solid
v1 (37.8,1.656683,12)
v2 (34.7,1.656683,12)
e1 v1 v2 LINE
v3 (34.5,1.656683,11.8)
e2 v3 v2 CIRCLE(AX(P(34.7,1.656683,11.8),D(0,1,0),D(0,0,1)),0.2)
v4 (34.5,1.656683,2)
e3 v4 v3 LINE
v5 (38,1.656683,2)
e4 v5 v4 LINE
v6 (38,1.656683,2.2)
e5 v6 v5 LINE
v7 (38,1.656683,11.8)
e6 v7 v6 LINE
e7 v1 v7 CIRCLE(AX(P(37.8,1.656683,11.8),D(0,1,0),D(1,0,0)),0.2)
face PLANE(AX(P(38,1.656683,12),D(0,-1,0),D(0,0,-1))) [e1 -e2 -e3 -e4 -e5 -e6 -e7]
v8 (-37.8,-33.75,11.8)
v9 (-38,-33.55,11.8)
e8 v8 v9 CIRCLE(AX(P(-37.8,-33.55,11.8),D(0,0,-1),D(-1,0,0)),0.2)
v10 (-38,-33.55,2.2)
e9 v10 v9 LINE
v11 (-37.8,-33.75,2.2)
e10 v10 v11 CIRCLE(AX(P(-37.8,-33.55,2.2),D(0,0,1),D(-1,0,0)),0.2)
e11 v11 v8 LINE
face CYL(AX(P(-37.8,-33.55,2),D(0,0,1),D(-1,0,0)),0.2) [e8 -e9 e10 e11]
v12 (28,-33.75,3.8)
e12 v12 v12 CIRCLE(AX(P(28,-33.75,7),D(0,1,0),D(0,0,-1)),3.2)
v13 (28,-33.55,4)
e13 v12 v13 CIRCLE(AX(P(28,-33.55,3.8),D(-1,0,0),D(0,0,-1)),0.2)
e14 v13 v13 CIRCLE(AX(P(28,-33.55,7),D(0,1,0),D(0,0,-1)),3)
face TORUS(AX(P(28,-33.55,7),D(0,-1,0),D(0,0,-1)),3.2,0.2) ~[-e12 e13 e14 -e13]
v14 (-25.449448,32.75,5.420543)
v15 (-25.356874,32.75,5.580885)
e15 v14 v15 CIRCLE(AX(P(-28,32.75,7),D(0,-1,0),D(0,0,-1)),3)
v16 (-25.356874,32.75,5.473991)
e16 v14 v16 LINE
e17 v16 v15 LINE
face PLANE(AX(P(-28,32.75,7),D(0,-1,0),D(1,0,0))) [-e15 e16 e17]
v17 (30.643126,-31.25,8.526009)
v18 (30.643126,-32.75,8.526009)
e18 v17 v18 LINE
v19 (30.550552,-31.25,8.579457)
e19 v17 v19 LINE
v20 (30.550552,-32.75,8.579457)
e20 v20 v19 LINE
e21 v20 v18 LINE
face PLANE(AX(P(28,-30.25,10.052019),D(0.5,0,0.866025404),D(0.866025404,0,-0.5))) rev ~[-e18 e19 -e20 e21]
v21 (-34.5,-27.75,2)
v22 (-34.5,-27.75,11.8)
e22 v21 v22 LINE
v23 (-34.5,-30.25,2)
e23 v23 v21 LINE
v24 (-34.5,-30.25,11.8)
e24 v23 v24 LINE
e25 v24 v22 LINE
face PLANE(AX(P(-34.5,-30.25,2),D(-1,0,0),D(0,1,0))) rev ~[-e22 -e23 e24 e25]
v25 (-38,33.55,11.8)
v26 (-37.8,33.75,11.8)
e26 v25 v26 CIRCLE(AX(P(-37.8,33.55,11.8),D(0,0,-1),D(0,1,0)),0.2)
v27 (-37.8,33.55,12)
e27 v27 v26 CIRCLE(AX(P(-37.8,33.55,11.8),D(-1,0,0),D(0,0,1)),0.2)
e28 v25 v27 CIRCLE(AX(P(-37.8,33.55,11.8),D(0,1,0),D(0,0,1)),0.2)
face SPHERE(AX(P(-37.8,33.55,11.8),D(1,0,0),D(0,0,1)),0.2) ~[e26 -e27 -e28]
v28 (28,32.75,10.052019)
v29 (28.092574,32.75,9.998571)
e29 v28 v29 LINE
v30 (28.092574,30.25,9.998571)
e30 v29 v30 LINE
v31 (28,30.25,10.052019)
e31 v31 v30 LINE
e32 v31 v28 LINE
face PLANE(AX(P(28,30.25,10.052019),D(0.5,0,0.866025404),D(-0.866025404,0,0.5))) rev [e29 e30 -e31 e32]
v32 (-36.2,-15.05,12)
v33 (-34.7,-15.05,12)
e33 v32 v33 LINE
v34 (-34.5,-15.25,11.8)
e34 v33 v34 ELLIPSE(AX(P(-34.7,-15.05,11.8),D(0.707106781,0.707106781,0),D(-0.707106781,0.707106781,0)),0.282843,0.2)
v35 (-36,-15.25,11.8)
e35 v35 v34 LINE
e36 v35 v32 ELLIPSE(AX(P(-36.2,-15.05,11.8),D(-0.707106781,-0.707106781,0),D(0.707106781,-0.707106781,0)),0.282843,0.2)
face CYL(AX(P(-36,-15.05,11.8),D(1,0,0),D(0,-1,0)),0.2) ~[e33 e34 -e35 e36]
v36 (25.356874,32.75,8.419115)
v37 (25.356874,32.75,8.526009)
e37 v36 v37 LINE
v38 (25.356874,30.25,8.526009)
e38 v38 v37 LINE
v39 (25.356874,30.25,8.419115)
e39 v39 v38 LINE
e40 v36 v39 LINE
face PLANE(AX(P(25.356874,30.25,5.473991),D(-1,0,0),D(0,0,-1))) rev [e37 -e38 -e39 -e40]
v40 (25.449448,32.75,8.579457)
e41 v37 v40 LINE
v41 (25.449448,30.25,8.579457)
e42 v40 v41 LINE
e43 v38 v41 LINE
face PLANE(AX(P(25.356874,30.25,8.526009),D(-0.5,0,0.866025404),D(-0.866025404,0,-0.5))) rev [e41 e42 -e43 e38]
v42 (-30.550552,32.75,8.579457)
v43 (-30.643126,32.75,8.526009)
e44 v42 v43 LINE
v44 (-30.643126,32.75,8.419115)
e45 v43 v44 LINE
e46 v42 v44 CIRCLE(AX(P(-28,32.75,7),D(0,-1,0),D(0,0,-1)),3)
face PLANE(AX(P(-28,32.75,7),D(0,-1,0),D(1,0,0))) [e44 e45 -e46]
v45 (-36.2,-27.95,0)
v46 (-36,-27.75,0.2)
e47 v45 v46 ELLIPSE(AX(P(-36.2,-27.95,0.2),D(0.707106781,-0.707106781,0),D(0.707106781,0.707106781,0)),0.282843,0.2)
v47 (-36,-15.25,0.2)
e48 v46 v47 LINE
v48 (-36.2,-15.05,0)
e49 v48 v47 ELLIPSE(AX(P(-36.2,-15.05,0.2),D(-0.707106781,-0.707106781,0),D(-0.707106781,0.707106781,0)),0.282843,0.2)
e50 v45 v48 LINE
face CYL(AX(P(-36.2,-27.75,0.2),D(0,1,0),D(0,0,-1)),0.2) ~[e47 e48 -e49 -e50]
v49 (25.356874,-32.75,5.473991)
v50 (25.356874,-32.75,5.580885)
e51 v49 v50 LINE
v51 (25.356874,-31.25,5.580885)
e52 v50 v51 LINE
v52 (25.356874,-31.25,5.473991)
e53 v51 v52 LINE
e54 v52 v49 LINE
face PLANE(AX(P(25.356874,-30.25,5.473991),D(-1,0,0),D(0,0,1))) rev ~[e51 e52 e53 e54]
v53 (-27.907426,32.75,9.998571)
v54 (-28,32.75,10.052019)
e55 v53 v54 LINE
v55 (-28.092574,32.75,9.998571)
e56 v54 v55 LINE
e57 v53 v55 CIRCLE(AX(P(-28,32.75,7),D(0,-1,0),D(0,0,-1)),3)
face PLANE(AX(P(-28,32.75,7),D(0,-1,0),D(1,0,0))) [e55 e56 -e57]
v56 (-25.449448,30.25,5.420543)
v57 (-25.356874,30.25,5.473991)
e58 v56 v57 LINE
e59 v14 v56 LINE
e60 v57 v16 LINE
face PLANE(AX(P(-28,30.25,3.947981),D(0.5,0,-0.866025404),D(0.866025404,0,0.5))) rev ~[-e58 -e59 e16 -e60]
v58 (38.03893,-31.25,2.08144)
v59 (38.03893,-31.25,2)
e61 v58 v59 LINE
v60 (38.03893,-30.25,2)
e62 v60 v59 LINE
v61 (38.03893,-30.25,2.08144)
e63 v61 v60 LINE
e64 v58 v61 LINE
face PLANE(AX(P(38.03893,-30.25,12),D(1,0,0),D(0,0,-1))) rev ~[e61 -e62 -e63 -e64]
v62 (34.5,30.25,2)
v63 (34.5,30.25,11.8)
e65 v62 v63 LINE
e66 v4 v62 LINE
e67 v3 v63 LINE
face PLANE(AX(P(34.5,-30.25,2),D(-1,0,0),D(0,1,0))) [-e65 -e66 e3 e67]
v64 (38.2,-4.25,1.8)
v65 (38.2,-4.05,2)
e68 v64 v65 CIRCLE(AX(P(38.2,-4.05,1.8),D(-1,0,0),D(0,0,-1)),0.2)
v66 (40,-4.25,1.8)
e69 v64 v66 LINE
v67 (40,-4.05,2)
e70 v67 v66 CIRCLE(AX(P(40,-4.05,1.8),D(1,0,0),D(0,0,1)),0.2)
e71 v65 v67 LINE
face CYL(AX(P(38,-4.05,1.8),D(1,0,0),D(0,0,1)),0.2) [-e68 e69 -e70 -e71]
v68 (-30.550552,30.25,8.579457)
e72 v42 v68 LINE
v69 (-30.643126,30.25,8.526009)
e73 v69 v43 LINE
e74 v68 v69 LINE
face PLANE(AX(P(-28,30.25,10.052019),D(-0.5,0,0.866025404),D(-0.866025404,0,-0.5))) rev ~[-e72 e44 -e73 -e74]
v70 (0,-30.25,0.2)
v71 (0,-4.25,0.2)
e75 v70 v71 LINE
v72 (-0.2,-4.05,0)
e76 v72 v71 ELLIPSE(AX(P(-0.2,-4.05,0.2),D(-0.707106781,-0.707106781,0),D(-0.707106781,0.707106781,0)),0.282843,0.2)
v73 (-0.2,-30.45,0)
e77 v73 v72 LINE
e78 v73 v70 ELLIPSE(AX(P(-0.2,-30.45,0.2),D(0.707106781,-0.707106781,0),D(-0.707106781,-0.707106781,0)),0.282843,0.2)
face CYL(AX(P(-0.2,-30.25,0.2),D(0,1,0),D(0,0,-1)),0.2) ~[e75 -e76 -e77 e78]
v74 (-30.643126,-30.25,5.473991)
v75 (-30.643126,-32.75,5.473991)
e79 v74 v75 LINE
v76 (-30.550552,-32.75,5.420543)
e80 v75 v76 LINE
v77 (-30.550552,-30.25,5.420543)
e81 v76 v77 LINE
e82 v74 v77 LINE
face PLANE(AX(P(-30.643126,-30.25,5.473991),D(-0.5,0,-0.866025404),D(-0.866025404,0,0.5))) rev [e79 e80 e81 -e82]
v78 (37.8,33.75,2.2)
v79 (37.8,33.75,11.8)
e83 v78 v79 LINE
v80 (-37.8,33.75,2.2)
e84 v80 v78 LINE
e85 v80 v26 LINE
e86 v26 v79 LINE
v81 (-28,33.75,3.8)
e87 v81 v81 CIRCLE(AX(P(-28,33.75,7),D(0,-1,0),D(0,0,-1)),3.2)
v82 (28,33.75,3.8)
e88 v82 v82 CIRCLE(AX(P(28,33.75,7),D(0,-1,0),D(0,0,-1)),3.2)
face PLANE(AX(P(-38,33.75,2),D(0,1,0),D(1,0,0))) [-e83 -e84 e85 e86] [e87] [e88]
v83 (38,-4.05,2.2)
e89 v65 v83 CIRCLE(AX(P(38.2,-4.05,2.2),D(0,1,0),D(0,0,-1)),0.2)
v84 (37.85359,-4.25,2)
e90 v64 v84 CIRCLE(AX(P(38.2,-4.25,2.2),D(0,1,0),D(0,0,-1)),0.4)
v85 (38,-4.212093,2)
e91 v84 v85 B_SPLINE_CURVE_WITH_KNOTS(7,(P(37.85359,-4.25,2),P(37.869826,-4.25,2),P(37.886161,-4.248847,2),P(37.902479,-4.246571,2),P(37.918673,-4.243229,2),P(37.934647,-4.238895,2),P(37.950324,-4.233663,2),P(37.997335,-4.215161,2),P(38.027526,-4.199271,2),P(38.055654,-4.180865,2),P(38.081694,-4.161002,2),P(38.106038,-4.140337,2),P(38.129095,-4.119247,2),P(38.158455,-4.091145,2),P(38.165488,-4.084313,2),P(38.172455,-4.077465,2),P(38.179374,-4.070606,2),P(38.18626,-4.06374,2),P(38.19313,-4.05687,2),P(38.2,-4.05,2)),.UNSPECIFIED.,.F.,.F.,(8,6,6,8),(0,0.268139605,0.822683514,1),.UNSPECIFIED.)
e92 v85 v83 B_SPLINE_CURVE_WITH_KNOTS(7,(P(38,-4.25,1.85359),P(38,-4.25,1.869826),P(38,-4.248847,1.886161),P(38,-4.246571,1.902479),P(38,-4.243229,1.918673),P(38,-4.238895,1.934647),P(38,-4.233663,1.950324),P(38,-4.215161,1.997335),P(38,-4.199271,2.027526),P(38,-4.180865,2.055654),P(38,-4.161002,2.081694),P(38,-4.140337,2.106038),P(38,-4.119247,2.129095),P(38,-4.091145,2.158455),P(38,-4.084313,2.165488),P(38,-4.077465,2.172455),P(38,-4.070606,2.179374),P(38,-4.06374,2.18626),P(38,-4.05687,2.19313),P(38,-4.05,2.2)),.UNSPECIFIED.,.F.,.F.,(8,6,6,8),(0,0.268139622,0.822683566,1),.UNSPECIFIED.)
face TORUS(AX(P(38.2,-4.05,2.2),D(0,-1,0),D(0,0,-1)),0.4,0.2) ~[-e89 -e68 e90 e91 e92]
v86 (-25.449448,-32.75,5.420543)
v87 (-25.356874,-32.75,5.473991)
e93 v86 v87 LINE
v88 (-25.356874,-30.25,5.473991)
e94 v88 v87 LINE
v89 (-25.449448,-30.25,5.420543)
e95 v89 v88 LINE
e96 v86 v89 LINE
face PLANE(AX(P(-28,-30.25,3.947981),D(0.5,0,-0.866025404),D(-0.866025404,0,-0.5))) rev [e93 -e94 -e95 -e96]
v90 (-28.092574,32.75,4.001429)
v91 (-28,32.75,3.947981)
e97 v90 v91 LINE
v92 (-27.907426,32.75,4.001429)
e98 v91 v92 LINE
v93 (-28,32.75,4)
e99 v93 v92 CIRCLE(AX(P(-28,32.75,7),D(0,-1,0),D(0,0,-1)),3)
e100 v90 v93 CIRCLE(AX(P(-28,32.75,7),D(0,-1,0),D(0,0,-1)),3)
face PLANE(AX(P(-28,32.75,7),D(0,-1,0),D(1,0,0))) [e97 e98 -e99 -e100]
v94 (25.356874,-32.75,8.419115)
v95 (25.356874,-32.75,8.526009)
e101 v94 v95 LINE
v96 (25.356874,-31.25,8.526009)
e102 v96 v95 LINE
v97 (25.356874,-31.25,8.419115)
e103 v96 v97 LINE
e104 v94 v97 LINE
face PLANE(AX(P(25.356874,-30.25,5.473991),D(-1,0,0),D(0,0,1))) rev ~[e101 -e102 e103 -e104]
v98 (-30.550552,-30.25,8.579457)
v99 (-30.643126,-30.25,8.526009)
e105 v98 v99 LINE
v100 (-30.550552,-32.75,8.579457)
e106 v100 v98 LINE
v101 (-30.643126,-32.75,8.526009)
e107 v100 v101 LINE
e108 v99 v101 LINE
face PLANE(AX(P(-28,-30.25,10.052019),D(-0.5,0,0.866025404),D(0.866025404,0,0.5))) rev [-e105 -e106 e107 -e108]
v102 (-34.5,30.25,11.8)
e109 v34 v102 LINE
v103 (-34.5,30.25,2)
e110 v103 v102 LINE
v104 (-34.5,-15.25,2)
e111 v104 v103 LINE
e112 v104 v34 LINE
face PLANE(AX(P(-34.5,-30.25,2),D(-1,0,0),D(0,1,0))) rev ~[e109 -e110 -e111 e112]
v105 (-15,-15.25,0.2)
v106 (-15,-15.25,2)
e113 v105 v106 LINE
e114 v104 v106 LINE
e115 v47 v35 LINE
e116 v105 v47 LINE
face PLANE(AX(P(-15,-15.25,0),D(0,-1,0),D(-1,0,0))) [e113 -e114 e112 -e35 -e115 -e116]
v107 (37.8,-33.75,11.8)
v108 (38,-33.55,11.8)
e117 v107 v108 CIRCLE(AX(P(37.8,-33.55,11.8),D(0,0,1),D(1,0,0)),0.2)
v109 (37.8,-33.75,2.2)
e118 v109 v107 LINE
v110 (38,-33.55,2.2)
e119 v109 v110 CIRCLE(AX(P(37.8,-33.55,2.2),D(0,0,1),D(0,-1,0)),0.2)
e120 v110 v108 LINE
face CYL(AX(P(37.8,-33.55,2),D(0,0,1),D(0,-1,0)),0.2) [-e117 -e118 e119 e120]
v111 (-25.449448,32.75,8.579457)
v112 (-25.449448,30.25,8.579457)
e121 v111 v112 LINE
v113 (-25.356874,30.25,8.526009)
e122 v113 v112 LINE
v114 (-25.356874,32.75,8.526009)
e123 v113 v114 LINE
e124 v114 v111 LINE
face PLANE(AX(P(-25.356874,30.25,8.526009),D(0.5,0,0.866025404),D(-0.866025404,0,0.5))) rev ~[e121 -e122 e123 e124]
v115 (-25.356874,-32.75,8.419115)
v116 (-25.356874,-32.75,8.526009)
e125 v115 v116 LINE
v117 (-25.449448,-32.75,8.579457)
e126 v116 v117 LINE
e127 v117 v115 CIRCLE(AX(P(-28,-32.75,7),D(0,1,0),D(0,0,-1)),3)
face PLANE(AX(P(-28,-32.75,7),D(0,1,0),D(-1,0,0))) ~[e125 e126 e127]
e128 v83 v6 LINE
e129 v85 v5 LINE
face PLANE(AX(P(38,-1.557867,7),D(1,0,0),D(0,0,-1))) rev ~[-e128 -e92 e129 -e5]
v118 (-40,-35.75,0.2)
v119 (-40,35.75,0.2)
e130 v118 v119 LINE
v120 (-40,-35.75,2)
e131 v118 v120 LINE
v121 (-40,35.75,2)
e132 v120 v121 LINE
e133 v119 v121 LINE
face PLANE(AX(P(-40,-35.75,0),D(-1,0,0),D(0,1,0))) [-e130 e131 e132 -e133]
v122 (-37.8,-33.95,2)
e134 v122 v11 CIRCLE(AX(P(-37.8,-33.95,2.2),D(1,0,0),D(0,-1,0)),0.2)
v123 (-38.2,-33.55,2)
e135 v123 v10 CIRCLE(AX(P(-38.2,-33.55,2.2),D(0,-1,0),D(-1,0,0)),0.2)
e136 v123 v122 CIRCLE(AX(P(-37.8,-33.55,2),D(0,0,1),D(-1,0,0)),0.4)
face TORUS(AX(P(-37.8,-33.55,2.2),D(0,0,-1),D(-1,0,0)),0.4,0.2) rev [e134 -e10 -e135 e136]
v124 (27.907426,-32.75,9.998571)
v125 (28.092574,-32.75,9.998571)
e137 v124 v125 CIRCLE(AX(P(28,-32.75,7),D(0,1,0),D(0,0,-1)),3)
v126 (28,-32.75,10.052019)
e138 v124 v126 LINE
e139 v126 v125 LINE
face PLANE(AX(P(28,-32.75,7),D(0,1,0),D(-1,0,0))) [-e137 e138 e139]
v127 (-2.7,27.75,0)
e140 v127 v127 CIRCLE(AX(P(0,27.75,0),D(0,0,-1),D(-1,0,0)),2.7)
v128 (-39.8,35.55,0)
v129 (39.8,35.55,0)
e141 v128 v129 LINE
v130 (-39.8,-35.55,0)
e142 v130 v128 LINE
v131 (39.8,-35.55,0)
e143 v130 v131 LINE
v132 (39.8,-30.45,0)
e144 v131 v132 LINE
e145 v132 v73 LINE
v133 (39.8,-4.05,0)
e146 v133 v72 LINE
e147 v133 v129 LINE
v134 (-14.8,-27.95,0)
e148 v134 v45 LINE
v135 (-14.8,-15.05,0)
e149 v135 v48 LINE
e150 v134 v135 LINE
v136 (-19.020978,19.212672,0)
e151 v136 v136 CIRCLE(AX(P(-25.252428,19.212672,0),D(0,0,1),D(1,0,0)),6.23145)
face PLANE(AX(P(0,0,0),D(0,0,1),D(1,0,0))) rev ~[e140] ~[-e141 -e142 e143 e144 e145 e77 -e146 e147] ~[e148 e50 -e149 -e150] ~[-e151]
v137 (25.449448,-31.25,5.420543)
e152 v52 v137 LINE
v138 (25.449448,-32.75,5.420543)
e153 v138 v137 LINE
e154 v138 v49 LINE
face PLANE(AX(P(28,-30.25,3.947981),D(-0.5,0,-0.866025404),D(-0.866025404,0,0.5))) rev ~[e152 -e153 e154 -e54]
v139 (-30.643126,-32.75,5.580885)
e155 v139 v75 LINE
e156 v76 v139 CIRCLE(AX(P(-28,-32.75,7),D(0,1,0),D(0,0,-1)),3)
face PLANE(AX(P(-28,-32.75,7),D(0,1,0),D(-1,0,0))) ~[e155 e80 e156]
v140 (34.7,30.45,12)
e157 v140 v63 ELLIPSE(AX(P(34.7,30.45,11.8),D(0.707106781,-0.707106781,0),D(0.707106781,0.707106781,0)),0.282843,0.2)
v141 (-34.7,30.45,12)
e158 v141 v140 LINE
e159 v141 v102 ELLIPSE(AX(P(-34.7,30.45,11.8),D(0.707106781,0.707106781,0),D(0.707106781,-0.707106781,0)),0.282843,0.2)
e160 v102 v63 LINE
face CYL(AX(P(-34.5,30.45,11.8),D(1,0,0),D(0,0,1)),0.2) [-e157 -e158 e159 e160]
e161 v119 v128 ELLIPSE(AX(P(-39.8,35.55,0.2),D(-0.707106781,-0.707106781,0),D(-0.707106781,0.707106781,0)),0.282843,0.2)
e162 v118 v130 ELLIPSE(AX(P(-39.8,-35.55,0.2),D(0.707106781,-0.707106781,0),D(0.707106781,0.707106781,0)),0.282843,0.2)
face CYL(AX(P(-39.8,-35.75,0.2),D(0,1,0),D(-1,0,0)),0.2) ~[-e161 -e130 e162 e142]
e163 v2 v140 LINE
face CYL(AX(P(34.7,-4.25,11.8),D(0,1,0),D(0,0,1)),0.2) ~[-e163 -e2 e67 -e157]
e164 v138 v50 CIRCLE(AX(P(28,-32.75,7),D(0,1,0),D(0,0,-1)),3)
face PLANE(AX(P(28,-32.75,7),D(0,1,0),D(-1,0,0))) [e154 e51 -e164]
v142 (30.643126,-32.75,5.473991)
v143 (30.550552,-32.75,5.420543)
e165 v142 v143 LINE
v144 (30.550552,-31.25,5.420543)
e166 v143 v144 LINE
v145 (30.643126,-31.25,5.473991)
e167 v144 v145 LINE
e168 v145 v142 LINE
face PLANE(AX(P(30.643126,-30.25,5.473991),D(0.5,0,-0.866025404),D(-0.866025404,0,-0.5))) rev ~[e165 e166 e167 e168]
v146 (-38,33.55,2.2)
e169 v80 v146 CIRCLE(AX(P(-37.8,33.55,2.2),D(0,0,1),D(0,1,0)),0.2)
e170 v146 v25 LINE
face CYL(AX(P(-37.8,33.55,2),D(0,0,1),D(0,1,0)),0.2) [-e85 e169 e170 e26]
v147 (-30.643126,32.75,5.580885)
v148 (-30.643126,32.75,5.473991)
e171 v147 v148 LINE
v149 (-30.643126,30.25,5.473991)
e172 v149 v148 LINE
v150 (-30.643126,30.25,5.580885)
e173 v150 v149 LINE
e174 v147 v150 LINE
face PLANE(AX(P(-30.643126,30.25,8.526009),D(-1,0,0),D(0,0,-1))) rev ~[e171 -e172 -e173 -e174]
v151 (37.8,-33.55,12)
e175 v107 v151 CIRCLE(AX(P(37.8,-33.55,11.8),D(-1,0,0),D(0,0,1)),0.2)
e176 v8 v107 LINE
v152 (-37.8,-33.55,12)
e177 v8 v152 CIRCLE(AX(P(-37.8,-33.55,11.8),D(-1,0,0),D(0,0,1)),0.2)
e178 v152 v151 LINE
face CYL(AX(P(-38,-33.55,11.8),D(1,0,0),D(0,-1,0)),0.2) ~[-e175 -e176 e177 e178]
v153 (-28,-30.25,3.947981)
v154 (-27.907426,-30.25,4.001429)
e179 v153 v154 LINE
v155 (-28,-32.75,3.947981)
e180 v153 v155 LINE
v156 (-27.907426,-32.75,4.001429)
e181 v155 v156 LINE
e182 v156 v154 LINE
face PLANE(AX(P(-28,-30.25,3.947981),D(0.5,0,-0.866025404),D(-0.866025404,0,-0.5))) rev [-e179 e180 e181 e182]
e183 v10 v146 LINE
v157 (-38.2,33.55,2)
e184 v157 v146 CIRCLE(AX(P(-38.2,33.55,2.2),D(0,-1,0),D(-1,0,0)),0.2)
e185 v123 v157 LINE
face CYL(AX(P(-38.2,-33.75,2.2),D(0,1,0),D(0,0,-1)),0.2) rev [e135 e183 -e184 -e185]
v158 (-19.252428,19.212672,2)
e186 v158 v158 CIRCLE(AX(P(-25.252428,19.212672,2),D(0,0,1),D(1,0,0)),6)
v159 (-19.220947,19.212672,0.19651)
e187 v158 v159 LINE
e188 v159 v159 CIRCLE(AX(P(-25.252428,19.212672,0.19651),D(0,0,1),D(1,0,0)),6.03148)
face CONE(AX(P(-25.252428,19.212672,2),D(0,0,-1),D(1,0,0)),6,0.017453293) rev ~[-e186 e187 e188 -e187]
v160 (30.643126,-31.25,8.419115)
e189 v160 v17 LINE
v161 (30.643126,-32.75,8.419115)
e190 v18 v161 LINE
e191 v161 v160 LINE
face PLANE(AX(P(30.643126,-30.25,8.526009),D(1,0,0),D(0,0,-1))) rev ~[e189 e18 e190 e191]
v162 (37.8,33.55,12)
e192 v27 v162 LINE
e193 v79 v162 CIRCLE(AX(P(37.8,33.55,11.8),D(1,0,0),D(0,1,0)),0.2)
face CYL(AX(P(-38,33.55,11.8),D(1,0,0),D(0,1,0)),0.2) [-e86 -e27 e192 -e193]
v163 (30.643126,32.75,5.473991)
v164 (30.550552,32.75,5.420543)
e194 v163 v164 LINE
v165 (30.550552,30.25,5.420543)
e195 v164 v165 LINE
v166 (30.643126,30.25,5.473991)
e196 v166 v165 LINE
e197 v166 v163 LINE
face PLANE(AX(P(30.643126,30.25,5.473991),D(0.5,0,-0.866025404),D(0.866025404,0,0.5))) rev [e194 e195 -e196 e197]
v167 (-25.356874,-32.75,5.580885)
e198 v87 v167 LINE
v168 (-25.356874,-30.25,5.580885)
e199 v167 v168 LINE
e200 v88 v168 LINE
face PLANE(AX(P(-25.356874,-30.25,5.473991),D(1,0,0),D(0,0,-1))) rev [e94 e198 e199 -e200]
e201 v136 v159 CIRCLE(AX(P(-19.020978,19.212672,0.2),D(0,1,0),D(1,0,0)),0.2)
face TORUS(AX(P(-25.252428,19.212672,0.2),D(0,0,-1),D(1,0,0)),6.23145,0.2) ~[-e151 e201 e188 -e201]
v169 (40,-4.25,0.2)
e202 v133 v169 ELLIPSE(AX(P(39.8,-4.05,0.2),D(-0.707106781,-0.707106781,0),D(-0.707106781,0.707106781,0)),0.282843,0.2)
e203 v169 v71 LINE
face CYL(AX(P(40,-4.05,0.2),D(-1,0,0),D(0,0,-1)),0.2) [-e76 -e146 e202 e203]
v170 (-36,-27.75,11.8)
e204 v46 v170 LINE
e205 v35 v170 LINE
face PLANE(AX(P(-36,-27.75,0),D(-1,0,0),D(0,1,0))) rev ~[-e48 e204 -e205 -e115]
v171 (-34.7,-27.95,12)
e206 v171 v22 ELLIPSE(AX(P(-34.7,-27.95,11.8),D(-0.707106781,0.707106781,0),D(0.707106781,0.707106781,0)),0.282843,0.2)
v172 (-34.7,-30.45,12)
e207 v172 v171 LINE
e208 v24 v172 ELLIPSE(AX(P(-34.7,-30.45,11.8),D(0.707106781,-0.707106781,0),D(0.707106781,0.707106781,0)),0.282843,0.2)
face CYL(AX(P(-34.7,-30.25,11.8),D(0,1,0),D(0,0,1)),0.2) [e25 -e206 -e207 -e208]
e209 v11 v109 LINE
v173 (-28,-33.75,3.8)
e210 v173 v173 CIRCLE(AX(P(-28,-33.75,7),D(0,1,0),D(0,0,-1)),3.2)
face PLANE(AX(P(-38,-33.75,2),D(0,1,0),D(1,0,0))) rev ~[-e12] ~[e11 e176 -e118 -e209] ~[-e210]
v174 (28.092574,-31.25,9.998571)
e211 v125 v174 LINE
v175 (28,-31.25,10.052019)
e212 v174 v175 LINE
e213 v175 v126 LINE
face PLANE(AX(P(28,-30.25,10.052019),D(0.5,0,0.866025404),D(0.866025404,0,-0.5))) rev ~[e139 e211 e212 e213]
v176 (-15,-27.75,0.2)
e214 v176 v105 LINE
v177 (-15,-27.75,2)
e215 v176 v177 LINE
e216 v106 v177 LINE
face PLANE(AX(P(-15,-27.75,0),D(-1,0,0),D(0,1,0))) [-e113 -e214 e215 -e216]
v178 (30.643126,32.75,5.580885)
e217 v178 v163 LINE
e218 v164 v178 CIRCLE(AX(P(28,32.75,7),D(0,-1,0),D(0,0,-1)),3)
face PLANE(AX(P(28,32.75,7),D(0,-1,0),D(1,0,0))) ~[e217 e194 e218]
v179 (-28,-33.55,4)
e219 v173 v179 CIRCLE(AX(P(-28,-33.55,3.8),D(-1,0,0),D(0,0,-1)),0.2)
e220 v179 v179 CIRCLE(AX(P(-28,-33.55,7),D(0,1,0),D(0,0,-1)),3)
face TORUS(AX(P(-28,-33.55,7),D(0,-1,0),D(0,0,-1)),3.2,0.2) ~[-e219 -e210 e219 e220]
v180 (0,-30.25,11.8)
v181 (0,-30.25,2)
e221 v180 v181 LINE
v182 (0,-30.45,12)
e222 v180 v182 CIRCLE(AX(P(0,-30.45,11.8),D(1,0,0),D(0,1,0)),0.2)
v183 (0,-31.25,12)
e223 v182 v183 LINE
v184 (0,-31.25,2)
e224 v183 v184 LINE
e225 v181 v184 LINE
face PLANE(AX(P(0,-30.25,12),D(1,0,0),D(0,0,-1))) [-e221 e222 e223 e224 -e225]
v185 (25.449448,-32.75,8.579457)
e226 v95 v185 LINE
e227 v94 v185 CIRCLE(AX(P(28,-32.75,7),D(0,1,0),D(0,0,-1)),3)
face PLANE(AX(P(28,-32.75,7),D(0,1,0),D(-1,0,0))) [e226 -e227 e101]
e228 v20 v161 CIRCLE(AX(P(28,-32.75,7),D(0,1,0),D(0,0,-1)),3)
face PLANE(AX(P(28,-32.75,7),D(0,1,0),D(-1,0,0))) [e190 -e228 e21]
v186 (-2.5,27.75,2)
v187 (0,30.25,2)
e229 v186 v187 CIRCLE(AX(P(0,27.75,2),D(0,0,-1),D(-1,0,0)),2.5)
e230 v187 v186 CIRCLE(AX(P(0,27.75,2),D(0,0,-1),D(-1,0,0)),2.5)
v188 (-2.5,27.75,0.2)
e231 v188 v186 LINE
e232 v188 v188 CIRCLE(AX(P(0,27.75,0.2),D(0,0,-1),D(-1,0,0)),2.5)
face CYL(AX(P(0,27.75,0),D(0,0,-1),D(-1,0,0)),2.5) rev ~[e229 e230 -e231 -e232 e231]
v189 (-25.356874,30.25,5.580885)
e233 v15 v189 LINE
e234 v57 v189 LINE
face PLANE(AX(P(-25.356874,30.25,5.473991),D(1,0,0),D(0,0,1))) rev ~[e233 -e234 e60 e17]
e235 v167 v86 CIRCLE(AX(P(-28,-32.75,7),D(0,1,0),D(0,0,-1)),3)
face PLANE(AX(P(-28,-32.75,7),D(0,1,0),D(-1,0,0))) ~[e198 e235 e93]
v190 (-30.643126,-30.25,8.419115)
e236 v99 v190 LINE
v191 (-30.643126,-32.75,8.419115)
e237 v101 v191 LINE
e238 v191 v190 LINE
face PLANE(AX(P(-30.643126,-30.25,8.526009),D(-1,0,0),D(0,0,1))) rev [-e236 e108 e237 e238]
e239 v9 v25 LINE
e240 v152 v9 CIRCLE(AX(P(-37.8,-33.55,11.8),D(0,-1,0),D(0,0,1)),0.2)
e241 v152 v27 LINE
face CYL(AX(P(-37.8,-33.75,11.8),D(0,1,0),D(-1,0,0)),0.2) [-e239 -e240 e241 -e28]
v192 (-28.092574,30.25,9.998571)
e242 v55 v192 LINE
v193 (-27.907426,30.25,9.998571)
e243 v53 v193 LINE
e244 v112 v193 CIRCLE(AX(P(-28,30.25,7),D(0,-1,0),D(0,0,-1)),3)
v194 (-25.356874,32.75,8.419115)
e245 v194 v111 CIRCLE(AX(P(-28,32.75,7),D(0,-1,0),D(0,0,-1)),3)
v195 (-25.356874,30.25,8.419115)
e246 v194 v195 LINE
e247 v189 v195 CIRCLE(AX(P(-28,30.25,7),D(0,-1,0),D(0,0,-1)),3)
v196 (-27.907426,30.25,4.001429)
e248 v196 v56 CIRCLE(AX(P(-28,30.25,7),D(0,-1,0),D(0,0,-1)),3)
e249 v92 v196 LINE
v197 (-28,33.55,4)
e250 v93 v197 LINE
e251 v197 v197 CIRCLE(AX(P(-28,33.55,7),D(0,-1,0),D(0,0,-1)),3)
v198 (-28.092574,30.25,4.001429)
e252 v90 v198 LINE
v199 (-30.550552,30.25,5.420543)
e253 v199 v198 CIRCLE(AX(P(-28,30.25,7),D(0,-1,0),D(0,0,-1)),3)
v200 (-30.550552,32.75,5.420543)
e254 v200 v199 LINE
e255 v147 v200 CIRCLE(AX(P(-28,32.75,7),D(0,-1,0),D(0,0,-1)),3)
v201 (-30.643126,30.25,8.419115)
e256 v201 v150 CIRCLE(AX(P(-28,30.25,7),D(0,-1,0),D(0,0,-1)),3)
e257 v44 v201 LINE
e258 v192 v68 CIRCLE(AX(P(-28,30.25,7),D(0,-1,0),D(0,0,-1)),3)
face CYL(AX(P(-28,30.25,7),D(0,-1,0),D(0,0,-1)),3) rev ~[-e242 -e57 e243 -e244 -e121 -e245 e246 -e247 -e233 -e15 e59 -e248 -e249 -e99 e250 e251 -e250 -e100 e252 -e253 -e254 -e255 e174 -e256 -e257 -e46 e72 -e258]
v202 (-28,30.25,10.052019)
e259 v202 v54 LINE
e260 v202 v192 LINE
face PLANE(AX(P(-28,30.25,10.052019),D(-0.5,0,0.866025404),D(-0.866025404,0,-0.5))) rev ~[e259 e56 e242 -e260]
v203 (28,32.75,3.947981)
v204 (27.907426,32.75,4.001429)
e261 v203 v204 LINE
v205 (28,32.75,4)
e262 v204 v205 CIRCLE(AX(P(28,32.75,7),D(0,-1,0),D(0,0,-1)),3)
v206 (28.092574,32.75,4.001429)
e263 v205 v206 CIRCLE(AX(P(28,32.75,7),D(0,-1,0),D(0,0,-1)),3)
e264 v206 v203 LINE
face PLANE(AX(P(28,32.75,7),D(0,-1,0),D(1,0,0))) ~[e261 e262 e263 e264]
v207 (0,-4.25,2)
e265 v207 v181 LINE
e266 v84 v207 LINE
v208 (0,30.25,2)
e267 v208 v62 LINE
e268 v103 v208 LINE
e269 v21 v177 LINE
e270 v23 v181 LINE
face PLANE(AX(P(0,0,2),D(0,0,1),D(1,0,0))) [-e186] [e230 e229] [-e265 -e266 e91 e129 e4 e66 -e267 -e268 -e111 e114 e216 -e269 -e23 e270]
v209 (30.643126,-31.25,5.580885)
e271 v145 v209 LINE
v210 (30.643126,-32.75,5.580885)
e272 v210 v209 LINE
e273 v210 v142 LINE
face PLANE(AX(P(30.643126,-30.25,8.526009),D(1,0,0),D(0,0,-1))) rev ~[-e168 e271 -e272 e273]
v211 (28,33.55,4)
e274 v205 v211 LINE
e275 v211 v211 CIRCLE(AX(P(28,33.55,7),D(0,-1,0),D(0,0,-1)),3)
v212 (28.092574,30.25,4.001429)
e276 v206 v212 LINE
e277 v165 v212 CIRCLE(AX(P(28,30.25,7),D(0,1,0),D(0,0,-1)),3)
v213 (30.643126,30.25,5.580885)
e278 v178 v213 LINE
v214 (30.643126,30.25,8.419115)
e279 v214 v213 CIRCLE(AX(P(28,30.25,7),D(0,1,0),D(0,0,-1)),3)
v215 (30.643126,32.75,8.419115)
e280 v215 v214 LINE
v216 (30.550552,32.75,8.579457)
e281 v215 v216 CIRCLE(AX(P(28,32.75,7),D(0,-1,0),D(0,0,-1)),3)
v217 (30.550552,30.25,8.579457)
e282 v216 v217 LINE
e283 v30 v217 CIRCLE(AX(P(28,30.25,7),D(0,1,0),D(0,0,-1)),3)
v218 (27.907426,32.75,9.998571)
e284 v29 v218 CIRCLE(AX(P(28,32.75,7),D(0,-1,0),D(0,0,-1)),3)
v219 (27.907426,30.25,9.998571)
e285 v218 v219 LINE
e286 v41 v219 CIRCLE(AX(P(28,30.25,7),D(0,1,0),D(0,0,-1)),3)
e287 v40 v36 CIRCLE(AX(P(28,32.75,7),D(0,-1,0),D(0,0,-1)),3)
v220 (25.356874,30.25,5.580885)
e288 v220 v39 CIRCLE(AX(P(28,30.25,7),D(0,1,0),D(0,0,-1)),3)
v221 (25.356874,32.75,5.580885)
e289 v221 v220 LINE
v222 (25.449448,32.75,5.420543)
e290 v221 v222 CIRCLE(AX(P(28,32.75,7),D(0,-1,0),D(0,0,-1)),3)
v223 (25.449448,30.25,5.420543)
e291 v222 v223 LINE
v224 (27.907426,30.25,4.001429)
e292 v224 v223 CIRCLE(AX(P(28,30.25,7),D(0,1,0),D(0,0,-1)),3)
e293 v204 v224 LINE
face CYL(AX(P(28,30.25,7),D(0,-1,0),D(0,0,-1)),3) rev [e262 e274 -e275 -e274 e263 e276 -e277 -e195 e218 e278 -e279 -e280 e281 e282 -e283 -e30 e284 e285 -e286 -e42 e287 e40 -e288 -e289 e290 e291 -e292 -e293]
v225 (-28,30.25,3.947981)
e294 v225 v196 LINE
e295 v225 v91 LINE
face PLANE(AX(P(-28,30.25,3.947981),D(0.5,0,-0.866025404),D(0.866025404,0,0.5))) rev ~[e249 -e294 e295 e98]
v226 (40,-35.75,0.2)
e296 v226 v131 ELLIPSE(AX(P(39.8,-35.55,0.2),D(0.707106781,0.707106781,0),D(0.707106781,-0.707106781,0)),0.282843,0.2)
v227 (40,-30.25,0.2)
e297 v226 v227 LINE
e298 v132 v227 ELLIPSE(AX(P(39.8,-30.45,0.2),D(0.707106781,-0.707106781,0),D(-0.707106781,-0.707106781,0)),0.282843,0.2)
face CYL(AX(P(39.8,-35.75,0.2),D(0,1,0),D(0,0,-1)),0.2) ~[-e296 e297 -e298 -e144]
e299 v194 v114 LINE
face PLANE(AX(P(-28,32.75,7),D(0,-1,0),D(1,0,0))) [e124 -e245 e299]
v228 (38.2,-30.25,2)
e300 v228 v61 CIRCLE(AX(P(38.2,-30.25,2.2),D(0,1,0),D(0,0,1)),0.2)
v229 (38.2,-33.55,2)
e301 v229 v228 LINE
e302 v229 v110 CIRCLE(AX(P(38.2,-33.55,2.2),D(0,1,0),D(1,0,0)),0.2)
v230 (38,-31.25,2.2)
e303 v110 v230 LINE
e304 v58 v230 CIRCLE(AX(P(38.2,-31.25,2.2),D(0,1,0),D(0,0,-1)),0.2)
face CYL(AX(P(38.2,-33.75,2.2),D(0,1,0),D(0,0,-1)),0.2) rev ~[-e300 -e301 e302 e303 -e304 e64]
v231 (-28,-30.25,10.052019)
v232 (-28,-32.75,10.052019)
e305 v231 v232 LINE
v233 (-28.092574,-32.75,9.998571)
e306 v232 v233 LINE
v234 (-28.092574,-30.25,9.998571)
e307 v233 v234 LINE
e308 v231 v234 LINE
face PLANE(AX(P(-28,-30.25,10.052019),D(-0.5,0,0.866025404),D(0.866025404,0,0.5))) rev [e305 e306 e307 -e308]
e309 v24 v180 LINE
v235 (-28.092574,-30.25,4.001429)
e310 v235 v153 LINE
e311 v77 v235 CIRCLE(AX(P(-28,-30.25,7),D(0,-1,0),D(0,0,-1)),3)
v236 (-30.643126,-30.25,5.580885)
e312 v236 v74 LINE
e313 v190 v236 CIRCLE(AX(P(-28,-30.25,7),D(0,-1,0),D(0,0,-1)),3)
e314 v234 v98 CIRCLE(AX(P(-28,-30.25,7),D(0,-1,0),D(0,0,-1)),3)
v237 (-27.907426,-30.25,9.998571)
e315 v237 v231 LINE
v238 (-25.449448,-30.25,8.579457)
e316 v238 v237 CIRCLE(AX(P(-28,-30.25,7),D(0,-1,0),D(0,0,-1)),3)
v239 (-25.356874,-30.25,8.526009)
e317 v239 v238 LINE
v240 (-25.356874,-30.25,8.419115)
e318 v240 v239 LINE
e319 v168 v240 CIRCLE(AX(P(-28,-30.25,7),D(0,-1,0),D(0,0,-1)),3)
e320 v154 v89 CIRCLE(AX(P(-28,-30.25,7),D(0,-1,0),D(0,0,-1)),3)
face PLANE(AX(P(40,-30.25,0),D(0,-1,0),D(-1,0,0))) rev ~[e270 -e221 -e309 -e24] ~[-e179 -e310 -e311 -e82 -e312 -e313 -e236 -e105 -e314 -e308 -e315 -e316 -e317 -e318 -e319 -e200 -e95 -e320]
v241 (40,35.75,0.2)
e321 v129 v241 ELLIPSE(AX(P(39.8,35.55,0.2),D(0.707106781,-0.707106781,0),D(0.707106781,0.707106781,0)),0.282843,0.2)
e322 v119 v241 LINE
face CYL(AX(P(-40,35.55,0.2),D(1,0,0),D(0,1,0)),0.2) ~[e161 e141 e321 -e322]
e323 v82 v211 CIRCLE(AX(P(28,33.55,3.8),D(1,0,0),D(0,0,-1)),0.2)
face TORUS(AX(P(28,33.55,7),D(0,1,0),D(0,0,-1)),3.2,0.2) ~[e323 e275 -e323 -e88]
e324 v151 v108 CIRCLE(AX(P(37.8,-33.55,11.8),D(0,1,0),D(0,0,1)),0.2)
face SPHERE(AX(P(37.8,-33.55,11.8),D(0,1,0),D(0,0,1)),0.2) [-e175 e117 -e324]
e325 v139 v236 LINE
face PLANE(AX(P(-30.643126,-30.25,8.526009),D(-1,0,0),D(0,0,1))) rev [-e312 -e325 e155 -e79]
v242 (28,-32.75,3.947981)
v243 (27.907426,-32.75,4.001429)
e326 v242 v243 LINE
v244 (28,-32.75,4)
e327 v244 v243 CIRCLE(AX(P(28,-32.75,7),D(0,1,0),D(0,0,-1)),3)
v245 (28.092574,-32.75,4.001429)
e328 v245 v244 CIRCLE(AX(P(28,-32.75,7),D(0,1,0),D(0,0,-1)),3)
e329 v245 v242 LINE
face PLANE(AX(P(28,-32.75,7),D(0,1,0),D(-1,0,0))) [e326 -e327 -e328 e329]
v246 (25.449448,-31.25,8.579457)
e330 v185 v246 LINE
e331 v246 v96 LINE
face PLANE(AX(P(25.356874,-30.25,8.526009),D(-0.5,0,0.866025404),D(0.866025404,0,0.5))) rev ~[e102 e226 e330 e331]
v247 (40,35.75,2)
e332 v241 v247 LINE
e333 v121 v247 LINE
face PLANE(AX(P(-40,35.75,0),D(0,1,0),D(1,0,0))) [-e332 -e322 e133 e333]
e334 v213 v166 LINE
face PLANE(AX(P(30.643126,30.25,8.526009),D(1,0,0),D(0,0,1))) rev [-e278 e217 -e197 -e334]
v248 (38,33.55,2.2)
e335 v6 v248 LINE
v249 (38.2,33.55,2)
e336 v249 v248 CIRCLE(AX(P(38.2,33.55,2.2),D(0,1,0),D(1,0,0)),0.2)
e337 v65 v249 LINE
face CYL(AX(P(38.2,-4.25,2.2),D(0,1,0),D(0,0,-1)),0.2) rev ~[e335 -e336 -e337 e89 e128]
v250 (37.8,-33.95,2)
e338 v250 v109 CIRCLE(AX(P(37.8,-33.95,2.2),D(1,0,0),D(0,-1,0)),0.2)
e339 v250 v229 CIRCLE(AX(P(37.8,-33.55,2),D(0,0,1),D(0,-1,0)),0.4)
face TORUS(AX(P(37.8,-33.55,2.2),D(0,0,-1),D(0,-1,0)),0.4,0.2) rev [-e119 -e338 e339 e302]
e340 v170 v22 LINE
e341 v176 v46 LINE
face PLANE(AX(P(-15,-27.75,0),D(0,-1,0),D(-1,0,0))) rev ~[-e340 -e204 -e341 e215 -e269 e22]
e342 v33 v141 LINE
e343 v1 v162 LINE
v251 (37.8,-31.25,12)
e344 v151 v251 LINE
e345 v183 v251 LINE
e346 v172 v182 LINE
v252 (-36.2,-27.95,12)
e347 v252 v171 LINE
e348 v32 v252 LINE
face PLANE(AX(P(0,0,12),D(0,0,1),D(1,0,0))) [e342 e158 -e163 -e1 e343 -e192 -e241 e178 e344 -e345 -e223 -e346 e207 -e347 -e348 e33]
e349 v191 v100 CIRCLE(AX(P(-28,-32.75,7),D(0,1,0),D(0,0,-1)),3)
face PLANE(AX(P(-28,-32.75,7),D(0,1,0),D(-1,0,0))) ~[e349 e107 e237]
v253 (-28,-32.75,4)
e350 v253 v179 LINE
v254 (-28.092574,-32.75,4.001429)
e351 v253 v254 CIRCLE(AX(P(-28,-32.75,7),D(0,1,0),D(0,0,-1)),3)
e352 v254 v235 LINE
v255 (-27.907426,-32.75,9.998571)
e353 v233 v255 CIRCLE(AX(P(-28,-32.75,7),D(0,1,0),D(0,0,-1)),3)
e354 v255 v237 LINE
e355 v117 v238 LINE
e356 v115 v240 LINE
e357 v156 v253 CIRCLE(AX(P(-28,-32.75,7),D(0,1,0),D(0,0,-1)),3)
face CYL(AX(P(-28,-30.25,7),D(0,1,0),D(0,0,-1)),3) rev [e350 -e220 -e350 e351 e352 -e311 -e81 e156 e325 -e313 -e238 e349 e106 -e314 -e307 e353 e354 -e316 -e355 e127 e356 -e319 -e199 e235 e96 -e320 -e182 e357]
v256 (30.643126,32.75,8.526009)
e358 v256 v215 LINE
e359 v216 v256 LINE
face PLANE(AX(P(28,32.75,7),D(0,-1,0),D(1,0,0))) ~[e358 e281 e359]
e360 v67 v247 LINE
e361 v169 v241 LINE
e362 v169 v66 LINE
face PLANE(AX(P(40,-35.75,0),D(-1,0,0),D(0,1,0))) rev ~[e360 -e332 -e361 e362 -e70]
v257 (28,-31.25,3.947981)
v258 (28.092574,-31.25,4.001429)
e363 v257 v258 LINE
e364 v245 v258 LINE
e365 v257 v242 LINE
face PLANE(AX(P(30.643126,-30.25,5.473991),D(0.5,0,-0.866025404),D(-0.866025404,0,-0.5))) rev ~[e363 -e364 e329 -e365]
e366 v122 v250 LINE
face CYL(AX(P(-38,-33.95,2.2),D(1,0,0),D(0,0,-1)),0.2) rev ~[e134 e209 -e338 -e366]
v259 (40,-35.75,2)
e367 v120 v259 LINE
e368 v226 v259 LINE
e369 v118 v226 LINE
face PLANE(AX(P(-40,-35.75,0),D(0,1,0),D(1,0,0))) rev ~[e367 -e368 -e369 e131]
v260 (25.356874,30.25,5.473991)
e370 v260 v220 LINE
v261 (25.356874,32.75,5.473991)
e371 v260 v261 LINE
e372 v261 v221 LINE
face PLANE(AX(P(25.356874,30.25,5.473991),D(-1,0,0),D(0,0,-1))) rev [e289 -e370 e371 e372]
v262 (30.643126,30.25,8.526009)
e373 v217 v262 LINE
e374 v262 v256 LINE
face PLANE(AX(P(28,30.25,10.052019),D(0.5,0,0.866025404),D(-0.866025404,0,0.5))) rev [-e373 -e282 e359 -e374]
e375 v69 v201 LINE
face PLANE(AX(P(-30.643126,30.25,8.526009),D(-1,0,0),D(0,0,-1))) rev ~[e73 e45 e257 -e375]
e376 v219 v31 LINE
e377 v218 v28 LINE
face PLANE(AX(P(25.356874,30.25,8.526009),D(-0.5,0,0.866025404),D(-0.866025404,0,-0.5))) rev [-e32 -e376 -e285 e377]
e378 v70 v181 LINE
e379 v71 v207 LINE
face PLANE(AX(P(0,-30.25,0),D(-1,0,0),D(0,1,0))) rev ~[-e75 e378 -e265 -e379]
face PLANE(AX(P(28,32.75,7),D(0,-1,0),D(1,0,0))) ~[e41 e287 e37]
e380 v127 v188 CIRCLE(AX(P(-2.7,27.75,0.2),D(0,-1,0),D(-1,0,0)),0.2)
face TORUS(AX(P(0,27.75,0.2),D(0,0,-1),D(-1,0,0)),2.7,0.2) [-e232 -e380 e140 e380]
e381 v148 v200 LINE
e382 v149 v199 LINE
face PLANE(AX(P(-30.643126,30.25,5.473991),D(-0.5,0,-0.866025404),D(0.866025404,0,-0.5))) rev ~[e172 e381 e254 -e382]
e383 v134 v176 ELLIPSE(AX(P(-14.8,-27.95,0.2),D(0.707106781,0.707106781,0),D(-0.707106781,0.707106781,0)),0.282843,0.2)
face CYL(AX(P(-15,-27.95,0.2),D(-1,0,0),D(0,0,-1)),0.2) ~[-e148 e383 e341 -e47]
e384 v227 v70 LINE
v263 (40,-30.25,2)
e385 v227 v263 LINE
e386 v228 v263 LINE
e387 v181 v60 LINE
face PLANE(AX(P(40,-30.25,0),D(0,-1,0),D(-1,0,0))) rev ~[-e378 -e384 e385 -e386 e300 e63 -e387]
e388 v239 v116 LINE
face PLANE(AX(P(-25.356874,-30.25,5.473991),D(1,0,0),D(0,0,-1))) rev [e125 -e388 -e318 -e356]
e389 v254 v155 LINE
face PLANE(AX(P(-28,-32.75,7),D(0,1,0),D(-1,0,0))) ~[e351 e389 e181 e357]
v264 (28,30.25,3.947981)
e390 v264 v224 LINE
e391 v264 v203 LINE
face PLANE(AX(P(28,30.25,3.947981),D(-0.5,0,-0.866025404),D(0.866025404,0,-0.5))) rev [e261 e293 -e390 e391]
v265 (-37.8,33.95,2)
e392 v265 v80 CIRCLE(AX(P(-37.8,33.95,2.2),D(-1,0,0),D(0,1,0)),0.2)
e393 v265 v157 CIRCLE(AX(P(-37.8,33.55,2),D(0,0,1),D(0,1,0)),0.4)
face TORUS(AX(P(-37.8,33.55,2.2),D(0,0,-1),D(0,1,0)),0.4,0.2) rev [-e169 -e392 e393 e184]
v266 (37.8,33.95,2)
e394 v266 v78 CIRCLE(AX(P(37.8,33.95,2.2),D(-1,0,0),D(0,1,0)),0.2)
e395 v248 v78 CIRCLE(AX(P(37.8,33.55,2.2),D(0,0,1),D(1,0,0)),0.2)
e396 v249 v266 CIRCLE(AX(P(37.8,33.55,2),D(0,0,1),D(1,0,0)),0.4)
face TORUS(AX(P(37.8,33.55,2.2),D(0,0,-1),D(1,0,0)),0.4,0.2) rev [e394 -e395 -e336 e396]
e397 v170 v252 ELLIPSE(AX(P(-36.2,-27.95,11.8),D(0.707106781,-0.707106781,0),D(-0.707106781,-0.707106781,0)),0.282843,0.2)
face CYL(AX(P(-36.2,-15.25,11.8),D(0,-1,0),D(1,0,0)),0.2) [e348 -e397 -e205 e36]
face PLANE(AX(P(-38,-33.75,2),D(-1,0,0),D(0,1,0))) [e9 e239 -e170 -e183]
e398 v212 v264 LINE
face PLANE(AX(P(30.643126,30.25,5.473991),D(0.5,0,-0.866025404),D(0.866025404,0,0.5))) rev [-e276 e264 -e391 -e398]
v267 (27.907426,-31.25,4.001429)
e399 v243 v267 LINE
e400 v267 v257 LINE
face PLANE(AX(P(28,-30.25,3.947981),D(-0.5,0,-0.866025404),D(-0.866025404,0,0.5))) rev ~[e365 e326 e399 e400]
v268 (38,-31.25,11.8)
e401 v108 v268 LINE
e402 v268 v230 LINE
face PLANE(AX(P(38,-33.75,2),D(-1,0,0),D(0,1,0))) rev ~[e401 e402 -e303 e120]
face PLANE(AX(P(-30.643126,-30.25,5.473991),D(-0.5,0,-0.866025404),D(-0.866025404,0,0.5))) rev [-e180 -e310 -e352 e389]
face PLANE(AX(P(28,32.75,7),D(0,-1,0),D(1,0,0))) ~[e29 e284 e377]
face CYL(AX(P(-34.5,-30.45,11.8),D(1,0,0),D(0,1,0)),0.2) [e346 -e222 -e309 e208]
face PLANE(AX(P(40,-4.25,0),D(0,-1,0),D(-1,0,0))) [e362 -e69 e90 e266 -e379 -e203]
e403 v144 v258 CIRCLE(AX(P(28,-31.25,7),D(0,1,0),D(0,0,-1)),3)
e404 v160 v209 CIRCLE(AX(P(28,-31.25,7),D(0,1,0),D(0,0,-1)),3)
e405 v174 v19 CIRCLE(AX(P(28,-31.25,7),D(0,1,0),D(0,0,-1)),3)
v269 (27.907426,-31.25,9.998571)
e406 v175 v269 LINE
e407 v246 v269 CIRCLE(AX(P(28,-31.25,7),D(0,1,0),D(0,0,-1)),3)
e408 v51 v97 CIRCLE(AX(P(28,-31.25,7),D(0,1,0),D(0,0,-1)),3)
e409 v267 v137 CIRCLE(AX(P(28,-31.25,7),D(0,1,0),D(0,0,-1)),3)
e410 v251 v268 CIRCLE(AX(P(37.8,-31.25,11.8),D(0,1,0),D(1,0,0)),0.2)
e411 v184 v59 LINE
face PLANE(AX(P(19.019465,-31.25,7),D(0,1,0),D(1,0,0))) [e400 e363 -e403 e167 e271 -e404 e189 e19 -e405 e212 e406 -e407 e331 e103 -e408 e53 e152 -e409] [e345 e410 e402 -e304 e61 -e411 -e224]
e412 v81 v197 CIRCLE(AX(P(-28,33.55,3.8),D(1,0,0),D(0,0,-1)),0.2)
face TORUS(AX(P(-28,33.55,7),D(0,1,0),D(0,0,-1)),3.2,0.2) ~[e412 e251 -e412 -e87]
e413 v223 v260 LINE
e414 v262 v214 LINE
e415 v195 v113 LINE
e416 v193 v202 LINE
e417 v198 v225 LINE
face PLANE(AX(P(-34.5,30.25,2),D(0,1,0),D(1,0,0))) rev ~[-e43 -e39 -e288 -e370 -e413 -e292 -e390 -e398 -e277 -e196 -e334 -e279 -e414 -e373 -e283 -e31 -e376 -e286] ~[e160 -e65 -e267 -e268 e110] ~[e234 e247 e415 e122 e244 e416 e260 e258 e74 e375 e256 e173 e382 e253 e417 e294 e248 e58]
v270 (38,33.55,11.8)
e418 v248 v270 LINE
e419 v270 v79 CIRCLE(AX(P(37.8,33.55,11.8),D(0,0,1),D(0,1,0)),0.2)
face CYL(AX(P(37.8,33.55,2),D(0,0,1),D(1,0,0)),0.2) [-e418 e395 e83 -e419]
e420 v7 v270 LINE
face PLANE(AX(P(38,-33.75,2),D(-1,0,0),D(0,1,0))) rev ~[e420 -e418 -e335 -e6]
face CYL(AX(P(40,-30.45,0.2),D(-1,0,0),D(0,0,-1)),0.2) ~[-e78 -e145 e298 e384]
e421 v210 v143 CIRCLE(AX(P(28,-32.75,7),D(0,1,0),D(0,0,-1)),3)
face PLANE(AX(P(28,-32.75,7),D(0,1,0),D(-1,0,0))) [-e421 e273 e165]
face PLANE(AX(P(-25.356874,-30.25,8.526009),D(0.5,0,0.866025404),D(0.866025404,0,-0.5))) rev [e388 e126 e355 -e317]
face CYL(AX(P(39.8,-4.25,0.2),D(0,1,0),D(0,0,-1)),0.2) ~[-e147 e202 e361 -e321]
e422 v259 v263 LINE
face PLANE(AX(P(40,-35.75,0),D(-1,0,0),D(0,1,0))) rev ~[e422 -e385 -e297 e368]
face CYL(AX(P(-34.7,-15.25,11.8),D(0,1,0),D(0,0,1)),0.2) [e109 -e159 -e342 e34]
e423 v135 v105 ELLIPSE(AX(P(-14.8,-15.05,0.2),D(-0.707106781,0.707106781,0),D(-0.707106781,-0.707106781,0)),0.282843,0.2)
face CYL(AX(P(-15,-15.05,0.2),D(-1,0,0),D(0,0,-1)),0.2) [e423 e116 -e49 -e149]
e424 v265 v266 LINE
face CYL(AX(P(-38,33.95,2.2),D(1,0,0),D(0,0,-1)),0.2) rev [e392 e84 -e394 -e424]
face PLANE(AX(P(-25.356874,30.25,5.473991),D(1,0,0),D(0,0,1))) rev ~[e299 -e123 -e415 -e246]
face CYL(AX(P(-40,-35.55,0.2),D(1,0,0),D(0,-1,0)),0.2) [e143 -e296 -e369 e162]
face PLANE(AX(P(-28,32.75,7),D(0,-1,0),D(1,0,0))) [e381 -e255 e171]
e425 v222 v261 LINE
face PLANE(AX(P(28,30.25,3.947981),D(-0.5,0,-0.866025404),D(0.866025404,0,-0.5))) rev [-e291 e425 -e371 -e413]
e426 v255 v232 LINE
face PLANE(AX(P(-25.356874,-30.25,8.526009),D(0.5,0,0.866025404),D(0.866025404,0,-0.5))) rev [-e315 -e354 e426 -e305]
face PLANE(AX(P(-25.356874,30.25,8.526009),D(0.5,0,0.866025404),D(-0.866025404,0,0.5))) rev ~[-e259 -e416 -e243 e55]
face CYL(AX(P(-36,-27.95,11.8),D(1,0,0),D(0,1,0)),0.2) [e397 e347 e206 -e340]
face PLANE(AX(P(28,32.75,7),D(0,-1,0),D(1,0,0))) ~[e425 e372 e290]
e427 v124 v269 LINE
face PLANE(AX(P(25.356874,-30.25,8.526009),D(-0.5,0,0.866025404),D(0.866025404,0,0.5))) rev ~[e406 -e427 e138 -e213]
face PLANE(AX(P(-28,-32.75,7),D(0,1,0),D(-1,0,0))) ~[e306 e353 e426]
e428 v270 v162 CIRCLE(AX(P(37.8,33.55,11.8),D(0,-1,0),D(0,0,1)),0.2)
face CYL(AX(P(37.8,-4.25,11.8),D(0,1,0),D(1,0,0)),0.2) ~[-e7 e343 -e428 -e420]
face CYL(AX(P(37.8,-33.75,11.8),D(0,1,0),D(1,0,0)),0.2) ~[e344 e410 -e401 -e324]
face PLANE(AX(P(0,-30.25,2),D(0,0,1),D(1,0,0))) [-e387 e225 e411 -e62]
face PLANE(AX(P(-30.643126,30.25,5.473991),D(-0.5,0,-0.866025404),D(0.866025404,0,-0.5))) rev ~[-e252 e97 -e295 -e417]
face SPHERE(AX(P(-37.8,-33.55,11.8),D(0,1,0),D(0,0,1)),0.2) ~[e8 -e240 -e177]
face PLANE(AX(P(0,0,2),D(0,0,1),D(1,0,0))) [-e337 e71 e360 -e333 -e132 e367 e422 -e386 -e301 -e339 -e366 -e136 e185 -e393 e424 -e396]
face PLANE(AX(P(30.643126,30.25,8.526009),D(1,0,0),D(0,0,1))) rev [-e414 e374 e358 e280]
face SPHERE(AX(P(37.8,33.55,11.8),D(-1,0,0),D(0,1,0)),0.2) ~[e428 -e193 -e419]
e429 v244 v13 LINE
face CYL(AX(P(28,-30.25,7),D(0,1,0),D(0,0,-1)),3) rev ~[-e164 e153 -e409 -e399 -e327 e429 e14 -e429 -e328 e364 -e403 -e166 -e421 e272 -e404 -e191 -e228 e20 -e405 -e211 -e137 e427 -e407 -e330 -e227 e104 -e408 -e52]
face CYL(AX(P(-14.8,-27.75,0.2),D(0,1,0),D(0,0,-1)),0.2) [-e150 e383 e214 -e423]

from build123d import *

# Parameters (mm, degrees)
ESQUISSE1_W               = 80
ESQUISSE1_H               = 71.5
BOSS_EXTRU_1_DEPTH        = 2
ESQUISSE2_W               = 76
ESQUISSE2_H               = 67.5
ESQUISSE2_W_2             = 69
ESQUISSE2_H_2             = 60.5
BOSS_EXTRU_2_DEPTH        = 10
ENL_V_MAT_EXTRU_1_DEPTH   = 2.5
ESQUISSE5_R               = 3
ENL_V_MAT_EXTRU_2_DEPTH   = 21
SYM_TRIE2_COPY_1_DEPTH    = 2.5
SYM_TRIE2_COPY_2_SKETCH_R = 3
SYM_TRIE2_COPY_2_DEPTH    = 21
ESQUISSE7_W               = 40
ESQUISSE7_H               = 26
ENL_V_MAT_EXTRU_3_DEPTH   = 15
ESQUISSE8_R               = 2.5
ENL_V_MAT_EXTRU_4_DEPTH   = 5
ESQUISSE10_R              = 6
ENL_V_MAT_EXTRU_5_DEPTH   = 5
ENL_V_MAT_EXTRU_5_DRAFT   = 1
ESQUISSE11_W              = 21
ESQUISSE11_H              = 12.5
ENL_V_MAT_EXTRU_6_DEPTH   = 15
CONG_1_R                  = 0.2
ESQUISSE12_W              = 10
ESQUISSE12_H              = 6.429100258
ENL_V_MAT_EXTRU_7_DEPTH   = 10
ESQUISSE13_W              = 38.038929767
ESQUISSE13_H              = 10
ENL_V_MAT_EXTRU_8_DEPTH   = 1


with BuildPart() as part:
    # Esquisse1 → Boss.-Extru.1 (new body)
    with BuildSketch(Plane.XY):
        Rectangle(ESQUISSE1_W, ESQUISSE1_H)
    extrude(amount=BOSS_EXTRU_1_DEPTH)

    # Esquisse2 → Boss.-Extru.2 (add)
    with BuildSketch(Plane.XY.offset(2)):
        Rectangle(ESQUISSE2_W, ESQUISSE2_H)
        Rectangle(ESQUISSE2_W_2, ESQUISSE2_H_2, mode=Mode.SUBTRACT)
    extrude(amount=BOSS_EXTRU_2_DEPTH)

    # Esquisse4 → Enlèv. mat.-Extru.1 (cut)
    with BuildSketch(Plane.XZ.offset(-30.25)):
        Polygon((-25.356874201, 5.473990608), (-25.356874201, 8.526009392), (-28, 10.052018783), (-30.643125799, 8.526009392), (-30.643125799, 5.473990608), (-28, 3.947981217), align=None)
    enl_v_mat_extru_1 = extrude(amount=-ENL_V_MAT_EXTRU_1_DEPTH, mode=Mode.SUBTRACT)

    # Esquisse5 → Enlèv. mat.-Extru.2 (cut)
    with BuildSketch(Plane.XZ.offset(-30.25)):
        with Locations(Location((-28, 7, 0), (0, 0, 270))):
            Circle(ESQUISSE5_R)
    enl_v_mat_extru_2 = extrude(amount=-ENL_V_MAT_EXTRU_2_DEPTH, mode=Mode.SUBTRACT)

    # Symétrie1: Enlèv. mat.-Extru.1, Enlèv. mat.-Extru.2 across plane
    add(enl_v_mat_extru_1.mirror(Plane(origin=(0, 0, 0), x_dir=(0, 0, 1), z_dir=(1, 0, 0))), mode=Mode.SUBTRACT)
    add(enl_v_mat_extru_2.mirror(Plane(origin=(0, 0, 0), x_dir=(0, 0, 1), z_dir=(1, 0, 0))), mode=Mode.SUBTRACT)

    # Symétrie2: Enlèv. mat.-Extru.1, Enlèv. mat.-Extru.2 across plane
    add(enl_v_mat_extru_1.mirror(Plane.ZX), mode=Mode.SUBTRACT)
    add(enl_v_mat_extru_2.mirror(Plane.ZX), mode=Mode.SUBTRACT)

    # Symétrie2 copy 1 sketch → Symétrie2 copy 1 (cut)
    with BuildSketch(Plane(origin=(0, -30.25, 0), x_dir=(-1, 0, 0), z_dir=(0, 1, 0))):
        Polygon((-25.356874201, 5.473990608), (-25.356874201, 8.526009392), (-28, 10.052018783), (-30.643125799, 8.526009392), (-30.643125799, 5.473990608), (-28, 3.947981217), align=None)
    extrude(amount=-SYM_TRIE2_COPY_1_DEPTH, mode=Mode.SUBTRACT)

    # Symétrie2 copy 2 sketch → Symétrie2 copy 2 (cut)
    with BuildSketch(Plane(origin=(0, -30.25, 0), x_dir=(-1, 0, 0), z_dir=(0, 1, 0))):
        with Locations(Location((-28, 7, 0), (0, 0, 270))):
            Circle(SYM_TRIE2_COPY_2_SKETCH_R)
    extrude(amount=-SYM_TRIE2_COPY_2_DEPTH, mode=Mode.SUBTRACT)

    # Esquisse7 → Enlèv. mat.-Extru.3 (cut)
    with BuildSketch(Plane(origin=(0, 0, 0), x_dir=(-1, 0, 0), z_dir=(0, 0, -1))):
        with Locations((-20, -17.25)):
            Rectangle(ESQUISSE7_W, ESQUISSE7_H)
    extrude(amount=-ENL_V_MAT_EXTRU_3_DEPTH, mode=Mode.SUBTRACT)

    # Esquisse8 → Enlèv. mat.-Extru.4 (cut)
    with BuildSketch(Plane(origin=(0, 0, 0), x_dir=(-1, 0, 0), z_dir=(0, 0, -1))):
        with Locations((0, 27.75)):
            Circle(ESQUISSE8_R)
    extrude(amount=-ENL_V_MAT_EXTRU_4_DEPTH, mode=Mode.SUBTRACT)


with BuildPart() as enl_v_mat_extru_5_tool:
    # Esquisse10 → Enlèv. mat.-Extru.5 (with draft: the straight prism first)
    with BuildSketch(Plane.XY.offset(2)):
        with Locations((-25.252427527, 19.212671665)):
            Circle(ESQUISSE10_R)
    extrude(amount=-ENL_V_MAT_EXTRU_5_DEPTH)
    # Enlèv. mat.-Extru.5: the draft: its side faces are tilted about the plane it starts from
    enl_v_mat_extru_5_sides = [enl_v_mat_extru_5_tool.faces().sort_by_distance(p)[0] for p in [
        (-31.252427527, 19.212671665, -0.5),
    ]]
    draft(enl_v_mat_extru_5_sides, Plane.XY.offset(2), ENL_V_MAT_EXTRU_5_DRAFT)


with BuildPart() as part_1:
    add(part.part)

    # Enlèv. mat.-Extru.5: cut by enl_v_mat_extru_5_tool
    add(enl_v_mat_extru_5_tool.part, mode=Mode.SUBTRACT)

    # Esquisse11 → Enlèv. mat.-Extru.6 (cut)
    with BuildSketch(Plane(origin=(0, 0, 0), x_dir=(-1, 0, 0), z_dir=(0, 0, -1))):
        with Locations((25.5, -21.5)):
            Rectangle(ESQUISSE11_W, ESQUISSE11_H)
    extrude(amount=-ENL_V_MAT_EXTRU_6_DEPTH, mode=Mode.SUBTRACT)

    # Congé1
    cong_1_edges = [part_1.edges().sort_by_distance(p)[0] for p in [
        (28, 33.75, 10),
        (38, -32, 12),
        (0, 33.75, 12),
        (-38, 0, 12),
        (0, -33.75, 12),
        (-28, -33.75, 10),
        (38, -32, 2),
        (38, -33.75, 7),
        (0, 33.75, 2),
        (38, 33.75, 7),
        (-38, 0, 2),
        (-38, 33.75, 7),
        (0, -33.75, 2),
        (-38, -33.75, 7),
        (0, 30.25, 12),
        (-34.5, 7.5, 12),
        (1.75, -30.25, 12),
        (28, -33.75, 10),
        (34.5, 13, 12),
        (38, 14.75, 2),
        (38, 14.75, 12),
        (40, 15.75, 0),
        (39, -4.25, 2),
        (36.25, -4.25, 12),
        (38, -4.25, 7),
        (20, -30.25, 0),
        (0, -17.25, 0),
        (20, -4.25, 0),
        (2.5, 27.75, 0),
        (-31.287337657, 19.212671665, 0),
        (-34.5, -29, 12),
        (-36, -21.5, 12),
        (-35.25, -27.75, 12),
        (-35.25, -15.25, 12),
        (-25.5, -15.25, 0),
        (-36, -21.5, 0),
        (-15, -21.5, 0),
        (-25.5, -27.75, 0),
        (0, -35.75, 0),
        (-40, 0, 0),
        (0, 35.75, 0),
        (40, -33, 0),
        (-28, 33.75, 10),
    ]]
    fillet(cong_1_edges, radius=CONG_1_R)

    # Esquisse12 → Enlèv. mat.-Extru.7 (cut)
    with BuildSketch(Plane(origin=(38, 0, 0), x_dir=(0, 0, -1), z_dir=(1, 0, 0))):
        with Locations((-7, -1.557866838)):
            Rectangle(ESQUISSE12_W, ESQUISSE12_H)
    extrude(amount=-ENL_V_MAT_EXTRU_7_DEPTH, mode=Mode.SUBTRACT)

    # Esquisse13 → Enlèv. mat.-Extru.8 (cut)
    with BuildSketch(Plane(origin=(0, -30.25, 0), x_dir=(1, 0, 0), z_dir=(0, 1, 0))):
        with Locations((19.019464883, -7)):
            Rectangle(ESQUISSE13_W, ESQUISSE13_H)
    extrude(amount=-ENL_V_MAT_EXTRU_8_DEPTH, mode=Mode.SUBTRACT)


solid = part_1.part
